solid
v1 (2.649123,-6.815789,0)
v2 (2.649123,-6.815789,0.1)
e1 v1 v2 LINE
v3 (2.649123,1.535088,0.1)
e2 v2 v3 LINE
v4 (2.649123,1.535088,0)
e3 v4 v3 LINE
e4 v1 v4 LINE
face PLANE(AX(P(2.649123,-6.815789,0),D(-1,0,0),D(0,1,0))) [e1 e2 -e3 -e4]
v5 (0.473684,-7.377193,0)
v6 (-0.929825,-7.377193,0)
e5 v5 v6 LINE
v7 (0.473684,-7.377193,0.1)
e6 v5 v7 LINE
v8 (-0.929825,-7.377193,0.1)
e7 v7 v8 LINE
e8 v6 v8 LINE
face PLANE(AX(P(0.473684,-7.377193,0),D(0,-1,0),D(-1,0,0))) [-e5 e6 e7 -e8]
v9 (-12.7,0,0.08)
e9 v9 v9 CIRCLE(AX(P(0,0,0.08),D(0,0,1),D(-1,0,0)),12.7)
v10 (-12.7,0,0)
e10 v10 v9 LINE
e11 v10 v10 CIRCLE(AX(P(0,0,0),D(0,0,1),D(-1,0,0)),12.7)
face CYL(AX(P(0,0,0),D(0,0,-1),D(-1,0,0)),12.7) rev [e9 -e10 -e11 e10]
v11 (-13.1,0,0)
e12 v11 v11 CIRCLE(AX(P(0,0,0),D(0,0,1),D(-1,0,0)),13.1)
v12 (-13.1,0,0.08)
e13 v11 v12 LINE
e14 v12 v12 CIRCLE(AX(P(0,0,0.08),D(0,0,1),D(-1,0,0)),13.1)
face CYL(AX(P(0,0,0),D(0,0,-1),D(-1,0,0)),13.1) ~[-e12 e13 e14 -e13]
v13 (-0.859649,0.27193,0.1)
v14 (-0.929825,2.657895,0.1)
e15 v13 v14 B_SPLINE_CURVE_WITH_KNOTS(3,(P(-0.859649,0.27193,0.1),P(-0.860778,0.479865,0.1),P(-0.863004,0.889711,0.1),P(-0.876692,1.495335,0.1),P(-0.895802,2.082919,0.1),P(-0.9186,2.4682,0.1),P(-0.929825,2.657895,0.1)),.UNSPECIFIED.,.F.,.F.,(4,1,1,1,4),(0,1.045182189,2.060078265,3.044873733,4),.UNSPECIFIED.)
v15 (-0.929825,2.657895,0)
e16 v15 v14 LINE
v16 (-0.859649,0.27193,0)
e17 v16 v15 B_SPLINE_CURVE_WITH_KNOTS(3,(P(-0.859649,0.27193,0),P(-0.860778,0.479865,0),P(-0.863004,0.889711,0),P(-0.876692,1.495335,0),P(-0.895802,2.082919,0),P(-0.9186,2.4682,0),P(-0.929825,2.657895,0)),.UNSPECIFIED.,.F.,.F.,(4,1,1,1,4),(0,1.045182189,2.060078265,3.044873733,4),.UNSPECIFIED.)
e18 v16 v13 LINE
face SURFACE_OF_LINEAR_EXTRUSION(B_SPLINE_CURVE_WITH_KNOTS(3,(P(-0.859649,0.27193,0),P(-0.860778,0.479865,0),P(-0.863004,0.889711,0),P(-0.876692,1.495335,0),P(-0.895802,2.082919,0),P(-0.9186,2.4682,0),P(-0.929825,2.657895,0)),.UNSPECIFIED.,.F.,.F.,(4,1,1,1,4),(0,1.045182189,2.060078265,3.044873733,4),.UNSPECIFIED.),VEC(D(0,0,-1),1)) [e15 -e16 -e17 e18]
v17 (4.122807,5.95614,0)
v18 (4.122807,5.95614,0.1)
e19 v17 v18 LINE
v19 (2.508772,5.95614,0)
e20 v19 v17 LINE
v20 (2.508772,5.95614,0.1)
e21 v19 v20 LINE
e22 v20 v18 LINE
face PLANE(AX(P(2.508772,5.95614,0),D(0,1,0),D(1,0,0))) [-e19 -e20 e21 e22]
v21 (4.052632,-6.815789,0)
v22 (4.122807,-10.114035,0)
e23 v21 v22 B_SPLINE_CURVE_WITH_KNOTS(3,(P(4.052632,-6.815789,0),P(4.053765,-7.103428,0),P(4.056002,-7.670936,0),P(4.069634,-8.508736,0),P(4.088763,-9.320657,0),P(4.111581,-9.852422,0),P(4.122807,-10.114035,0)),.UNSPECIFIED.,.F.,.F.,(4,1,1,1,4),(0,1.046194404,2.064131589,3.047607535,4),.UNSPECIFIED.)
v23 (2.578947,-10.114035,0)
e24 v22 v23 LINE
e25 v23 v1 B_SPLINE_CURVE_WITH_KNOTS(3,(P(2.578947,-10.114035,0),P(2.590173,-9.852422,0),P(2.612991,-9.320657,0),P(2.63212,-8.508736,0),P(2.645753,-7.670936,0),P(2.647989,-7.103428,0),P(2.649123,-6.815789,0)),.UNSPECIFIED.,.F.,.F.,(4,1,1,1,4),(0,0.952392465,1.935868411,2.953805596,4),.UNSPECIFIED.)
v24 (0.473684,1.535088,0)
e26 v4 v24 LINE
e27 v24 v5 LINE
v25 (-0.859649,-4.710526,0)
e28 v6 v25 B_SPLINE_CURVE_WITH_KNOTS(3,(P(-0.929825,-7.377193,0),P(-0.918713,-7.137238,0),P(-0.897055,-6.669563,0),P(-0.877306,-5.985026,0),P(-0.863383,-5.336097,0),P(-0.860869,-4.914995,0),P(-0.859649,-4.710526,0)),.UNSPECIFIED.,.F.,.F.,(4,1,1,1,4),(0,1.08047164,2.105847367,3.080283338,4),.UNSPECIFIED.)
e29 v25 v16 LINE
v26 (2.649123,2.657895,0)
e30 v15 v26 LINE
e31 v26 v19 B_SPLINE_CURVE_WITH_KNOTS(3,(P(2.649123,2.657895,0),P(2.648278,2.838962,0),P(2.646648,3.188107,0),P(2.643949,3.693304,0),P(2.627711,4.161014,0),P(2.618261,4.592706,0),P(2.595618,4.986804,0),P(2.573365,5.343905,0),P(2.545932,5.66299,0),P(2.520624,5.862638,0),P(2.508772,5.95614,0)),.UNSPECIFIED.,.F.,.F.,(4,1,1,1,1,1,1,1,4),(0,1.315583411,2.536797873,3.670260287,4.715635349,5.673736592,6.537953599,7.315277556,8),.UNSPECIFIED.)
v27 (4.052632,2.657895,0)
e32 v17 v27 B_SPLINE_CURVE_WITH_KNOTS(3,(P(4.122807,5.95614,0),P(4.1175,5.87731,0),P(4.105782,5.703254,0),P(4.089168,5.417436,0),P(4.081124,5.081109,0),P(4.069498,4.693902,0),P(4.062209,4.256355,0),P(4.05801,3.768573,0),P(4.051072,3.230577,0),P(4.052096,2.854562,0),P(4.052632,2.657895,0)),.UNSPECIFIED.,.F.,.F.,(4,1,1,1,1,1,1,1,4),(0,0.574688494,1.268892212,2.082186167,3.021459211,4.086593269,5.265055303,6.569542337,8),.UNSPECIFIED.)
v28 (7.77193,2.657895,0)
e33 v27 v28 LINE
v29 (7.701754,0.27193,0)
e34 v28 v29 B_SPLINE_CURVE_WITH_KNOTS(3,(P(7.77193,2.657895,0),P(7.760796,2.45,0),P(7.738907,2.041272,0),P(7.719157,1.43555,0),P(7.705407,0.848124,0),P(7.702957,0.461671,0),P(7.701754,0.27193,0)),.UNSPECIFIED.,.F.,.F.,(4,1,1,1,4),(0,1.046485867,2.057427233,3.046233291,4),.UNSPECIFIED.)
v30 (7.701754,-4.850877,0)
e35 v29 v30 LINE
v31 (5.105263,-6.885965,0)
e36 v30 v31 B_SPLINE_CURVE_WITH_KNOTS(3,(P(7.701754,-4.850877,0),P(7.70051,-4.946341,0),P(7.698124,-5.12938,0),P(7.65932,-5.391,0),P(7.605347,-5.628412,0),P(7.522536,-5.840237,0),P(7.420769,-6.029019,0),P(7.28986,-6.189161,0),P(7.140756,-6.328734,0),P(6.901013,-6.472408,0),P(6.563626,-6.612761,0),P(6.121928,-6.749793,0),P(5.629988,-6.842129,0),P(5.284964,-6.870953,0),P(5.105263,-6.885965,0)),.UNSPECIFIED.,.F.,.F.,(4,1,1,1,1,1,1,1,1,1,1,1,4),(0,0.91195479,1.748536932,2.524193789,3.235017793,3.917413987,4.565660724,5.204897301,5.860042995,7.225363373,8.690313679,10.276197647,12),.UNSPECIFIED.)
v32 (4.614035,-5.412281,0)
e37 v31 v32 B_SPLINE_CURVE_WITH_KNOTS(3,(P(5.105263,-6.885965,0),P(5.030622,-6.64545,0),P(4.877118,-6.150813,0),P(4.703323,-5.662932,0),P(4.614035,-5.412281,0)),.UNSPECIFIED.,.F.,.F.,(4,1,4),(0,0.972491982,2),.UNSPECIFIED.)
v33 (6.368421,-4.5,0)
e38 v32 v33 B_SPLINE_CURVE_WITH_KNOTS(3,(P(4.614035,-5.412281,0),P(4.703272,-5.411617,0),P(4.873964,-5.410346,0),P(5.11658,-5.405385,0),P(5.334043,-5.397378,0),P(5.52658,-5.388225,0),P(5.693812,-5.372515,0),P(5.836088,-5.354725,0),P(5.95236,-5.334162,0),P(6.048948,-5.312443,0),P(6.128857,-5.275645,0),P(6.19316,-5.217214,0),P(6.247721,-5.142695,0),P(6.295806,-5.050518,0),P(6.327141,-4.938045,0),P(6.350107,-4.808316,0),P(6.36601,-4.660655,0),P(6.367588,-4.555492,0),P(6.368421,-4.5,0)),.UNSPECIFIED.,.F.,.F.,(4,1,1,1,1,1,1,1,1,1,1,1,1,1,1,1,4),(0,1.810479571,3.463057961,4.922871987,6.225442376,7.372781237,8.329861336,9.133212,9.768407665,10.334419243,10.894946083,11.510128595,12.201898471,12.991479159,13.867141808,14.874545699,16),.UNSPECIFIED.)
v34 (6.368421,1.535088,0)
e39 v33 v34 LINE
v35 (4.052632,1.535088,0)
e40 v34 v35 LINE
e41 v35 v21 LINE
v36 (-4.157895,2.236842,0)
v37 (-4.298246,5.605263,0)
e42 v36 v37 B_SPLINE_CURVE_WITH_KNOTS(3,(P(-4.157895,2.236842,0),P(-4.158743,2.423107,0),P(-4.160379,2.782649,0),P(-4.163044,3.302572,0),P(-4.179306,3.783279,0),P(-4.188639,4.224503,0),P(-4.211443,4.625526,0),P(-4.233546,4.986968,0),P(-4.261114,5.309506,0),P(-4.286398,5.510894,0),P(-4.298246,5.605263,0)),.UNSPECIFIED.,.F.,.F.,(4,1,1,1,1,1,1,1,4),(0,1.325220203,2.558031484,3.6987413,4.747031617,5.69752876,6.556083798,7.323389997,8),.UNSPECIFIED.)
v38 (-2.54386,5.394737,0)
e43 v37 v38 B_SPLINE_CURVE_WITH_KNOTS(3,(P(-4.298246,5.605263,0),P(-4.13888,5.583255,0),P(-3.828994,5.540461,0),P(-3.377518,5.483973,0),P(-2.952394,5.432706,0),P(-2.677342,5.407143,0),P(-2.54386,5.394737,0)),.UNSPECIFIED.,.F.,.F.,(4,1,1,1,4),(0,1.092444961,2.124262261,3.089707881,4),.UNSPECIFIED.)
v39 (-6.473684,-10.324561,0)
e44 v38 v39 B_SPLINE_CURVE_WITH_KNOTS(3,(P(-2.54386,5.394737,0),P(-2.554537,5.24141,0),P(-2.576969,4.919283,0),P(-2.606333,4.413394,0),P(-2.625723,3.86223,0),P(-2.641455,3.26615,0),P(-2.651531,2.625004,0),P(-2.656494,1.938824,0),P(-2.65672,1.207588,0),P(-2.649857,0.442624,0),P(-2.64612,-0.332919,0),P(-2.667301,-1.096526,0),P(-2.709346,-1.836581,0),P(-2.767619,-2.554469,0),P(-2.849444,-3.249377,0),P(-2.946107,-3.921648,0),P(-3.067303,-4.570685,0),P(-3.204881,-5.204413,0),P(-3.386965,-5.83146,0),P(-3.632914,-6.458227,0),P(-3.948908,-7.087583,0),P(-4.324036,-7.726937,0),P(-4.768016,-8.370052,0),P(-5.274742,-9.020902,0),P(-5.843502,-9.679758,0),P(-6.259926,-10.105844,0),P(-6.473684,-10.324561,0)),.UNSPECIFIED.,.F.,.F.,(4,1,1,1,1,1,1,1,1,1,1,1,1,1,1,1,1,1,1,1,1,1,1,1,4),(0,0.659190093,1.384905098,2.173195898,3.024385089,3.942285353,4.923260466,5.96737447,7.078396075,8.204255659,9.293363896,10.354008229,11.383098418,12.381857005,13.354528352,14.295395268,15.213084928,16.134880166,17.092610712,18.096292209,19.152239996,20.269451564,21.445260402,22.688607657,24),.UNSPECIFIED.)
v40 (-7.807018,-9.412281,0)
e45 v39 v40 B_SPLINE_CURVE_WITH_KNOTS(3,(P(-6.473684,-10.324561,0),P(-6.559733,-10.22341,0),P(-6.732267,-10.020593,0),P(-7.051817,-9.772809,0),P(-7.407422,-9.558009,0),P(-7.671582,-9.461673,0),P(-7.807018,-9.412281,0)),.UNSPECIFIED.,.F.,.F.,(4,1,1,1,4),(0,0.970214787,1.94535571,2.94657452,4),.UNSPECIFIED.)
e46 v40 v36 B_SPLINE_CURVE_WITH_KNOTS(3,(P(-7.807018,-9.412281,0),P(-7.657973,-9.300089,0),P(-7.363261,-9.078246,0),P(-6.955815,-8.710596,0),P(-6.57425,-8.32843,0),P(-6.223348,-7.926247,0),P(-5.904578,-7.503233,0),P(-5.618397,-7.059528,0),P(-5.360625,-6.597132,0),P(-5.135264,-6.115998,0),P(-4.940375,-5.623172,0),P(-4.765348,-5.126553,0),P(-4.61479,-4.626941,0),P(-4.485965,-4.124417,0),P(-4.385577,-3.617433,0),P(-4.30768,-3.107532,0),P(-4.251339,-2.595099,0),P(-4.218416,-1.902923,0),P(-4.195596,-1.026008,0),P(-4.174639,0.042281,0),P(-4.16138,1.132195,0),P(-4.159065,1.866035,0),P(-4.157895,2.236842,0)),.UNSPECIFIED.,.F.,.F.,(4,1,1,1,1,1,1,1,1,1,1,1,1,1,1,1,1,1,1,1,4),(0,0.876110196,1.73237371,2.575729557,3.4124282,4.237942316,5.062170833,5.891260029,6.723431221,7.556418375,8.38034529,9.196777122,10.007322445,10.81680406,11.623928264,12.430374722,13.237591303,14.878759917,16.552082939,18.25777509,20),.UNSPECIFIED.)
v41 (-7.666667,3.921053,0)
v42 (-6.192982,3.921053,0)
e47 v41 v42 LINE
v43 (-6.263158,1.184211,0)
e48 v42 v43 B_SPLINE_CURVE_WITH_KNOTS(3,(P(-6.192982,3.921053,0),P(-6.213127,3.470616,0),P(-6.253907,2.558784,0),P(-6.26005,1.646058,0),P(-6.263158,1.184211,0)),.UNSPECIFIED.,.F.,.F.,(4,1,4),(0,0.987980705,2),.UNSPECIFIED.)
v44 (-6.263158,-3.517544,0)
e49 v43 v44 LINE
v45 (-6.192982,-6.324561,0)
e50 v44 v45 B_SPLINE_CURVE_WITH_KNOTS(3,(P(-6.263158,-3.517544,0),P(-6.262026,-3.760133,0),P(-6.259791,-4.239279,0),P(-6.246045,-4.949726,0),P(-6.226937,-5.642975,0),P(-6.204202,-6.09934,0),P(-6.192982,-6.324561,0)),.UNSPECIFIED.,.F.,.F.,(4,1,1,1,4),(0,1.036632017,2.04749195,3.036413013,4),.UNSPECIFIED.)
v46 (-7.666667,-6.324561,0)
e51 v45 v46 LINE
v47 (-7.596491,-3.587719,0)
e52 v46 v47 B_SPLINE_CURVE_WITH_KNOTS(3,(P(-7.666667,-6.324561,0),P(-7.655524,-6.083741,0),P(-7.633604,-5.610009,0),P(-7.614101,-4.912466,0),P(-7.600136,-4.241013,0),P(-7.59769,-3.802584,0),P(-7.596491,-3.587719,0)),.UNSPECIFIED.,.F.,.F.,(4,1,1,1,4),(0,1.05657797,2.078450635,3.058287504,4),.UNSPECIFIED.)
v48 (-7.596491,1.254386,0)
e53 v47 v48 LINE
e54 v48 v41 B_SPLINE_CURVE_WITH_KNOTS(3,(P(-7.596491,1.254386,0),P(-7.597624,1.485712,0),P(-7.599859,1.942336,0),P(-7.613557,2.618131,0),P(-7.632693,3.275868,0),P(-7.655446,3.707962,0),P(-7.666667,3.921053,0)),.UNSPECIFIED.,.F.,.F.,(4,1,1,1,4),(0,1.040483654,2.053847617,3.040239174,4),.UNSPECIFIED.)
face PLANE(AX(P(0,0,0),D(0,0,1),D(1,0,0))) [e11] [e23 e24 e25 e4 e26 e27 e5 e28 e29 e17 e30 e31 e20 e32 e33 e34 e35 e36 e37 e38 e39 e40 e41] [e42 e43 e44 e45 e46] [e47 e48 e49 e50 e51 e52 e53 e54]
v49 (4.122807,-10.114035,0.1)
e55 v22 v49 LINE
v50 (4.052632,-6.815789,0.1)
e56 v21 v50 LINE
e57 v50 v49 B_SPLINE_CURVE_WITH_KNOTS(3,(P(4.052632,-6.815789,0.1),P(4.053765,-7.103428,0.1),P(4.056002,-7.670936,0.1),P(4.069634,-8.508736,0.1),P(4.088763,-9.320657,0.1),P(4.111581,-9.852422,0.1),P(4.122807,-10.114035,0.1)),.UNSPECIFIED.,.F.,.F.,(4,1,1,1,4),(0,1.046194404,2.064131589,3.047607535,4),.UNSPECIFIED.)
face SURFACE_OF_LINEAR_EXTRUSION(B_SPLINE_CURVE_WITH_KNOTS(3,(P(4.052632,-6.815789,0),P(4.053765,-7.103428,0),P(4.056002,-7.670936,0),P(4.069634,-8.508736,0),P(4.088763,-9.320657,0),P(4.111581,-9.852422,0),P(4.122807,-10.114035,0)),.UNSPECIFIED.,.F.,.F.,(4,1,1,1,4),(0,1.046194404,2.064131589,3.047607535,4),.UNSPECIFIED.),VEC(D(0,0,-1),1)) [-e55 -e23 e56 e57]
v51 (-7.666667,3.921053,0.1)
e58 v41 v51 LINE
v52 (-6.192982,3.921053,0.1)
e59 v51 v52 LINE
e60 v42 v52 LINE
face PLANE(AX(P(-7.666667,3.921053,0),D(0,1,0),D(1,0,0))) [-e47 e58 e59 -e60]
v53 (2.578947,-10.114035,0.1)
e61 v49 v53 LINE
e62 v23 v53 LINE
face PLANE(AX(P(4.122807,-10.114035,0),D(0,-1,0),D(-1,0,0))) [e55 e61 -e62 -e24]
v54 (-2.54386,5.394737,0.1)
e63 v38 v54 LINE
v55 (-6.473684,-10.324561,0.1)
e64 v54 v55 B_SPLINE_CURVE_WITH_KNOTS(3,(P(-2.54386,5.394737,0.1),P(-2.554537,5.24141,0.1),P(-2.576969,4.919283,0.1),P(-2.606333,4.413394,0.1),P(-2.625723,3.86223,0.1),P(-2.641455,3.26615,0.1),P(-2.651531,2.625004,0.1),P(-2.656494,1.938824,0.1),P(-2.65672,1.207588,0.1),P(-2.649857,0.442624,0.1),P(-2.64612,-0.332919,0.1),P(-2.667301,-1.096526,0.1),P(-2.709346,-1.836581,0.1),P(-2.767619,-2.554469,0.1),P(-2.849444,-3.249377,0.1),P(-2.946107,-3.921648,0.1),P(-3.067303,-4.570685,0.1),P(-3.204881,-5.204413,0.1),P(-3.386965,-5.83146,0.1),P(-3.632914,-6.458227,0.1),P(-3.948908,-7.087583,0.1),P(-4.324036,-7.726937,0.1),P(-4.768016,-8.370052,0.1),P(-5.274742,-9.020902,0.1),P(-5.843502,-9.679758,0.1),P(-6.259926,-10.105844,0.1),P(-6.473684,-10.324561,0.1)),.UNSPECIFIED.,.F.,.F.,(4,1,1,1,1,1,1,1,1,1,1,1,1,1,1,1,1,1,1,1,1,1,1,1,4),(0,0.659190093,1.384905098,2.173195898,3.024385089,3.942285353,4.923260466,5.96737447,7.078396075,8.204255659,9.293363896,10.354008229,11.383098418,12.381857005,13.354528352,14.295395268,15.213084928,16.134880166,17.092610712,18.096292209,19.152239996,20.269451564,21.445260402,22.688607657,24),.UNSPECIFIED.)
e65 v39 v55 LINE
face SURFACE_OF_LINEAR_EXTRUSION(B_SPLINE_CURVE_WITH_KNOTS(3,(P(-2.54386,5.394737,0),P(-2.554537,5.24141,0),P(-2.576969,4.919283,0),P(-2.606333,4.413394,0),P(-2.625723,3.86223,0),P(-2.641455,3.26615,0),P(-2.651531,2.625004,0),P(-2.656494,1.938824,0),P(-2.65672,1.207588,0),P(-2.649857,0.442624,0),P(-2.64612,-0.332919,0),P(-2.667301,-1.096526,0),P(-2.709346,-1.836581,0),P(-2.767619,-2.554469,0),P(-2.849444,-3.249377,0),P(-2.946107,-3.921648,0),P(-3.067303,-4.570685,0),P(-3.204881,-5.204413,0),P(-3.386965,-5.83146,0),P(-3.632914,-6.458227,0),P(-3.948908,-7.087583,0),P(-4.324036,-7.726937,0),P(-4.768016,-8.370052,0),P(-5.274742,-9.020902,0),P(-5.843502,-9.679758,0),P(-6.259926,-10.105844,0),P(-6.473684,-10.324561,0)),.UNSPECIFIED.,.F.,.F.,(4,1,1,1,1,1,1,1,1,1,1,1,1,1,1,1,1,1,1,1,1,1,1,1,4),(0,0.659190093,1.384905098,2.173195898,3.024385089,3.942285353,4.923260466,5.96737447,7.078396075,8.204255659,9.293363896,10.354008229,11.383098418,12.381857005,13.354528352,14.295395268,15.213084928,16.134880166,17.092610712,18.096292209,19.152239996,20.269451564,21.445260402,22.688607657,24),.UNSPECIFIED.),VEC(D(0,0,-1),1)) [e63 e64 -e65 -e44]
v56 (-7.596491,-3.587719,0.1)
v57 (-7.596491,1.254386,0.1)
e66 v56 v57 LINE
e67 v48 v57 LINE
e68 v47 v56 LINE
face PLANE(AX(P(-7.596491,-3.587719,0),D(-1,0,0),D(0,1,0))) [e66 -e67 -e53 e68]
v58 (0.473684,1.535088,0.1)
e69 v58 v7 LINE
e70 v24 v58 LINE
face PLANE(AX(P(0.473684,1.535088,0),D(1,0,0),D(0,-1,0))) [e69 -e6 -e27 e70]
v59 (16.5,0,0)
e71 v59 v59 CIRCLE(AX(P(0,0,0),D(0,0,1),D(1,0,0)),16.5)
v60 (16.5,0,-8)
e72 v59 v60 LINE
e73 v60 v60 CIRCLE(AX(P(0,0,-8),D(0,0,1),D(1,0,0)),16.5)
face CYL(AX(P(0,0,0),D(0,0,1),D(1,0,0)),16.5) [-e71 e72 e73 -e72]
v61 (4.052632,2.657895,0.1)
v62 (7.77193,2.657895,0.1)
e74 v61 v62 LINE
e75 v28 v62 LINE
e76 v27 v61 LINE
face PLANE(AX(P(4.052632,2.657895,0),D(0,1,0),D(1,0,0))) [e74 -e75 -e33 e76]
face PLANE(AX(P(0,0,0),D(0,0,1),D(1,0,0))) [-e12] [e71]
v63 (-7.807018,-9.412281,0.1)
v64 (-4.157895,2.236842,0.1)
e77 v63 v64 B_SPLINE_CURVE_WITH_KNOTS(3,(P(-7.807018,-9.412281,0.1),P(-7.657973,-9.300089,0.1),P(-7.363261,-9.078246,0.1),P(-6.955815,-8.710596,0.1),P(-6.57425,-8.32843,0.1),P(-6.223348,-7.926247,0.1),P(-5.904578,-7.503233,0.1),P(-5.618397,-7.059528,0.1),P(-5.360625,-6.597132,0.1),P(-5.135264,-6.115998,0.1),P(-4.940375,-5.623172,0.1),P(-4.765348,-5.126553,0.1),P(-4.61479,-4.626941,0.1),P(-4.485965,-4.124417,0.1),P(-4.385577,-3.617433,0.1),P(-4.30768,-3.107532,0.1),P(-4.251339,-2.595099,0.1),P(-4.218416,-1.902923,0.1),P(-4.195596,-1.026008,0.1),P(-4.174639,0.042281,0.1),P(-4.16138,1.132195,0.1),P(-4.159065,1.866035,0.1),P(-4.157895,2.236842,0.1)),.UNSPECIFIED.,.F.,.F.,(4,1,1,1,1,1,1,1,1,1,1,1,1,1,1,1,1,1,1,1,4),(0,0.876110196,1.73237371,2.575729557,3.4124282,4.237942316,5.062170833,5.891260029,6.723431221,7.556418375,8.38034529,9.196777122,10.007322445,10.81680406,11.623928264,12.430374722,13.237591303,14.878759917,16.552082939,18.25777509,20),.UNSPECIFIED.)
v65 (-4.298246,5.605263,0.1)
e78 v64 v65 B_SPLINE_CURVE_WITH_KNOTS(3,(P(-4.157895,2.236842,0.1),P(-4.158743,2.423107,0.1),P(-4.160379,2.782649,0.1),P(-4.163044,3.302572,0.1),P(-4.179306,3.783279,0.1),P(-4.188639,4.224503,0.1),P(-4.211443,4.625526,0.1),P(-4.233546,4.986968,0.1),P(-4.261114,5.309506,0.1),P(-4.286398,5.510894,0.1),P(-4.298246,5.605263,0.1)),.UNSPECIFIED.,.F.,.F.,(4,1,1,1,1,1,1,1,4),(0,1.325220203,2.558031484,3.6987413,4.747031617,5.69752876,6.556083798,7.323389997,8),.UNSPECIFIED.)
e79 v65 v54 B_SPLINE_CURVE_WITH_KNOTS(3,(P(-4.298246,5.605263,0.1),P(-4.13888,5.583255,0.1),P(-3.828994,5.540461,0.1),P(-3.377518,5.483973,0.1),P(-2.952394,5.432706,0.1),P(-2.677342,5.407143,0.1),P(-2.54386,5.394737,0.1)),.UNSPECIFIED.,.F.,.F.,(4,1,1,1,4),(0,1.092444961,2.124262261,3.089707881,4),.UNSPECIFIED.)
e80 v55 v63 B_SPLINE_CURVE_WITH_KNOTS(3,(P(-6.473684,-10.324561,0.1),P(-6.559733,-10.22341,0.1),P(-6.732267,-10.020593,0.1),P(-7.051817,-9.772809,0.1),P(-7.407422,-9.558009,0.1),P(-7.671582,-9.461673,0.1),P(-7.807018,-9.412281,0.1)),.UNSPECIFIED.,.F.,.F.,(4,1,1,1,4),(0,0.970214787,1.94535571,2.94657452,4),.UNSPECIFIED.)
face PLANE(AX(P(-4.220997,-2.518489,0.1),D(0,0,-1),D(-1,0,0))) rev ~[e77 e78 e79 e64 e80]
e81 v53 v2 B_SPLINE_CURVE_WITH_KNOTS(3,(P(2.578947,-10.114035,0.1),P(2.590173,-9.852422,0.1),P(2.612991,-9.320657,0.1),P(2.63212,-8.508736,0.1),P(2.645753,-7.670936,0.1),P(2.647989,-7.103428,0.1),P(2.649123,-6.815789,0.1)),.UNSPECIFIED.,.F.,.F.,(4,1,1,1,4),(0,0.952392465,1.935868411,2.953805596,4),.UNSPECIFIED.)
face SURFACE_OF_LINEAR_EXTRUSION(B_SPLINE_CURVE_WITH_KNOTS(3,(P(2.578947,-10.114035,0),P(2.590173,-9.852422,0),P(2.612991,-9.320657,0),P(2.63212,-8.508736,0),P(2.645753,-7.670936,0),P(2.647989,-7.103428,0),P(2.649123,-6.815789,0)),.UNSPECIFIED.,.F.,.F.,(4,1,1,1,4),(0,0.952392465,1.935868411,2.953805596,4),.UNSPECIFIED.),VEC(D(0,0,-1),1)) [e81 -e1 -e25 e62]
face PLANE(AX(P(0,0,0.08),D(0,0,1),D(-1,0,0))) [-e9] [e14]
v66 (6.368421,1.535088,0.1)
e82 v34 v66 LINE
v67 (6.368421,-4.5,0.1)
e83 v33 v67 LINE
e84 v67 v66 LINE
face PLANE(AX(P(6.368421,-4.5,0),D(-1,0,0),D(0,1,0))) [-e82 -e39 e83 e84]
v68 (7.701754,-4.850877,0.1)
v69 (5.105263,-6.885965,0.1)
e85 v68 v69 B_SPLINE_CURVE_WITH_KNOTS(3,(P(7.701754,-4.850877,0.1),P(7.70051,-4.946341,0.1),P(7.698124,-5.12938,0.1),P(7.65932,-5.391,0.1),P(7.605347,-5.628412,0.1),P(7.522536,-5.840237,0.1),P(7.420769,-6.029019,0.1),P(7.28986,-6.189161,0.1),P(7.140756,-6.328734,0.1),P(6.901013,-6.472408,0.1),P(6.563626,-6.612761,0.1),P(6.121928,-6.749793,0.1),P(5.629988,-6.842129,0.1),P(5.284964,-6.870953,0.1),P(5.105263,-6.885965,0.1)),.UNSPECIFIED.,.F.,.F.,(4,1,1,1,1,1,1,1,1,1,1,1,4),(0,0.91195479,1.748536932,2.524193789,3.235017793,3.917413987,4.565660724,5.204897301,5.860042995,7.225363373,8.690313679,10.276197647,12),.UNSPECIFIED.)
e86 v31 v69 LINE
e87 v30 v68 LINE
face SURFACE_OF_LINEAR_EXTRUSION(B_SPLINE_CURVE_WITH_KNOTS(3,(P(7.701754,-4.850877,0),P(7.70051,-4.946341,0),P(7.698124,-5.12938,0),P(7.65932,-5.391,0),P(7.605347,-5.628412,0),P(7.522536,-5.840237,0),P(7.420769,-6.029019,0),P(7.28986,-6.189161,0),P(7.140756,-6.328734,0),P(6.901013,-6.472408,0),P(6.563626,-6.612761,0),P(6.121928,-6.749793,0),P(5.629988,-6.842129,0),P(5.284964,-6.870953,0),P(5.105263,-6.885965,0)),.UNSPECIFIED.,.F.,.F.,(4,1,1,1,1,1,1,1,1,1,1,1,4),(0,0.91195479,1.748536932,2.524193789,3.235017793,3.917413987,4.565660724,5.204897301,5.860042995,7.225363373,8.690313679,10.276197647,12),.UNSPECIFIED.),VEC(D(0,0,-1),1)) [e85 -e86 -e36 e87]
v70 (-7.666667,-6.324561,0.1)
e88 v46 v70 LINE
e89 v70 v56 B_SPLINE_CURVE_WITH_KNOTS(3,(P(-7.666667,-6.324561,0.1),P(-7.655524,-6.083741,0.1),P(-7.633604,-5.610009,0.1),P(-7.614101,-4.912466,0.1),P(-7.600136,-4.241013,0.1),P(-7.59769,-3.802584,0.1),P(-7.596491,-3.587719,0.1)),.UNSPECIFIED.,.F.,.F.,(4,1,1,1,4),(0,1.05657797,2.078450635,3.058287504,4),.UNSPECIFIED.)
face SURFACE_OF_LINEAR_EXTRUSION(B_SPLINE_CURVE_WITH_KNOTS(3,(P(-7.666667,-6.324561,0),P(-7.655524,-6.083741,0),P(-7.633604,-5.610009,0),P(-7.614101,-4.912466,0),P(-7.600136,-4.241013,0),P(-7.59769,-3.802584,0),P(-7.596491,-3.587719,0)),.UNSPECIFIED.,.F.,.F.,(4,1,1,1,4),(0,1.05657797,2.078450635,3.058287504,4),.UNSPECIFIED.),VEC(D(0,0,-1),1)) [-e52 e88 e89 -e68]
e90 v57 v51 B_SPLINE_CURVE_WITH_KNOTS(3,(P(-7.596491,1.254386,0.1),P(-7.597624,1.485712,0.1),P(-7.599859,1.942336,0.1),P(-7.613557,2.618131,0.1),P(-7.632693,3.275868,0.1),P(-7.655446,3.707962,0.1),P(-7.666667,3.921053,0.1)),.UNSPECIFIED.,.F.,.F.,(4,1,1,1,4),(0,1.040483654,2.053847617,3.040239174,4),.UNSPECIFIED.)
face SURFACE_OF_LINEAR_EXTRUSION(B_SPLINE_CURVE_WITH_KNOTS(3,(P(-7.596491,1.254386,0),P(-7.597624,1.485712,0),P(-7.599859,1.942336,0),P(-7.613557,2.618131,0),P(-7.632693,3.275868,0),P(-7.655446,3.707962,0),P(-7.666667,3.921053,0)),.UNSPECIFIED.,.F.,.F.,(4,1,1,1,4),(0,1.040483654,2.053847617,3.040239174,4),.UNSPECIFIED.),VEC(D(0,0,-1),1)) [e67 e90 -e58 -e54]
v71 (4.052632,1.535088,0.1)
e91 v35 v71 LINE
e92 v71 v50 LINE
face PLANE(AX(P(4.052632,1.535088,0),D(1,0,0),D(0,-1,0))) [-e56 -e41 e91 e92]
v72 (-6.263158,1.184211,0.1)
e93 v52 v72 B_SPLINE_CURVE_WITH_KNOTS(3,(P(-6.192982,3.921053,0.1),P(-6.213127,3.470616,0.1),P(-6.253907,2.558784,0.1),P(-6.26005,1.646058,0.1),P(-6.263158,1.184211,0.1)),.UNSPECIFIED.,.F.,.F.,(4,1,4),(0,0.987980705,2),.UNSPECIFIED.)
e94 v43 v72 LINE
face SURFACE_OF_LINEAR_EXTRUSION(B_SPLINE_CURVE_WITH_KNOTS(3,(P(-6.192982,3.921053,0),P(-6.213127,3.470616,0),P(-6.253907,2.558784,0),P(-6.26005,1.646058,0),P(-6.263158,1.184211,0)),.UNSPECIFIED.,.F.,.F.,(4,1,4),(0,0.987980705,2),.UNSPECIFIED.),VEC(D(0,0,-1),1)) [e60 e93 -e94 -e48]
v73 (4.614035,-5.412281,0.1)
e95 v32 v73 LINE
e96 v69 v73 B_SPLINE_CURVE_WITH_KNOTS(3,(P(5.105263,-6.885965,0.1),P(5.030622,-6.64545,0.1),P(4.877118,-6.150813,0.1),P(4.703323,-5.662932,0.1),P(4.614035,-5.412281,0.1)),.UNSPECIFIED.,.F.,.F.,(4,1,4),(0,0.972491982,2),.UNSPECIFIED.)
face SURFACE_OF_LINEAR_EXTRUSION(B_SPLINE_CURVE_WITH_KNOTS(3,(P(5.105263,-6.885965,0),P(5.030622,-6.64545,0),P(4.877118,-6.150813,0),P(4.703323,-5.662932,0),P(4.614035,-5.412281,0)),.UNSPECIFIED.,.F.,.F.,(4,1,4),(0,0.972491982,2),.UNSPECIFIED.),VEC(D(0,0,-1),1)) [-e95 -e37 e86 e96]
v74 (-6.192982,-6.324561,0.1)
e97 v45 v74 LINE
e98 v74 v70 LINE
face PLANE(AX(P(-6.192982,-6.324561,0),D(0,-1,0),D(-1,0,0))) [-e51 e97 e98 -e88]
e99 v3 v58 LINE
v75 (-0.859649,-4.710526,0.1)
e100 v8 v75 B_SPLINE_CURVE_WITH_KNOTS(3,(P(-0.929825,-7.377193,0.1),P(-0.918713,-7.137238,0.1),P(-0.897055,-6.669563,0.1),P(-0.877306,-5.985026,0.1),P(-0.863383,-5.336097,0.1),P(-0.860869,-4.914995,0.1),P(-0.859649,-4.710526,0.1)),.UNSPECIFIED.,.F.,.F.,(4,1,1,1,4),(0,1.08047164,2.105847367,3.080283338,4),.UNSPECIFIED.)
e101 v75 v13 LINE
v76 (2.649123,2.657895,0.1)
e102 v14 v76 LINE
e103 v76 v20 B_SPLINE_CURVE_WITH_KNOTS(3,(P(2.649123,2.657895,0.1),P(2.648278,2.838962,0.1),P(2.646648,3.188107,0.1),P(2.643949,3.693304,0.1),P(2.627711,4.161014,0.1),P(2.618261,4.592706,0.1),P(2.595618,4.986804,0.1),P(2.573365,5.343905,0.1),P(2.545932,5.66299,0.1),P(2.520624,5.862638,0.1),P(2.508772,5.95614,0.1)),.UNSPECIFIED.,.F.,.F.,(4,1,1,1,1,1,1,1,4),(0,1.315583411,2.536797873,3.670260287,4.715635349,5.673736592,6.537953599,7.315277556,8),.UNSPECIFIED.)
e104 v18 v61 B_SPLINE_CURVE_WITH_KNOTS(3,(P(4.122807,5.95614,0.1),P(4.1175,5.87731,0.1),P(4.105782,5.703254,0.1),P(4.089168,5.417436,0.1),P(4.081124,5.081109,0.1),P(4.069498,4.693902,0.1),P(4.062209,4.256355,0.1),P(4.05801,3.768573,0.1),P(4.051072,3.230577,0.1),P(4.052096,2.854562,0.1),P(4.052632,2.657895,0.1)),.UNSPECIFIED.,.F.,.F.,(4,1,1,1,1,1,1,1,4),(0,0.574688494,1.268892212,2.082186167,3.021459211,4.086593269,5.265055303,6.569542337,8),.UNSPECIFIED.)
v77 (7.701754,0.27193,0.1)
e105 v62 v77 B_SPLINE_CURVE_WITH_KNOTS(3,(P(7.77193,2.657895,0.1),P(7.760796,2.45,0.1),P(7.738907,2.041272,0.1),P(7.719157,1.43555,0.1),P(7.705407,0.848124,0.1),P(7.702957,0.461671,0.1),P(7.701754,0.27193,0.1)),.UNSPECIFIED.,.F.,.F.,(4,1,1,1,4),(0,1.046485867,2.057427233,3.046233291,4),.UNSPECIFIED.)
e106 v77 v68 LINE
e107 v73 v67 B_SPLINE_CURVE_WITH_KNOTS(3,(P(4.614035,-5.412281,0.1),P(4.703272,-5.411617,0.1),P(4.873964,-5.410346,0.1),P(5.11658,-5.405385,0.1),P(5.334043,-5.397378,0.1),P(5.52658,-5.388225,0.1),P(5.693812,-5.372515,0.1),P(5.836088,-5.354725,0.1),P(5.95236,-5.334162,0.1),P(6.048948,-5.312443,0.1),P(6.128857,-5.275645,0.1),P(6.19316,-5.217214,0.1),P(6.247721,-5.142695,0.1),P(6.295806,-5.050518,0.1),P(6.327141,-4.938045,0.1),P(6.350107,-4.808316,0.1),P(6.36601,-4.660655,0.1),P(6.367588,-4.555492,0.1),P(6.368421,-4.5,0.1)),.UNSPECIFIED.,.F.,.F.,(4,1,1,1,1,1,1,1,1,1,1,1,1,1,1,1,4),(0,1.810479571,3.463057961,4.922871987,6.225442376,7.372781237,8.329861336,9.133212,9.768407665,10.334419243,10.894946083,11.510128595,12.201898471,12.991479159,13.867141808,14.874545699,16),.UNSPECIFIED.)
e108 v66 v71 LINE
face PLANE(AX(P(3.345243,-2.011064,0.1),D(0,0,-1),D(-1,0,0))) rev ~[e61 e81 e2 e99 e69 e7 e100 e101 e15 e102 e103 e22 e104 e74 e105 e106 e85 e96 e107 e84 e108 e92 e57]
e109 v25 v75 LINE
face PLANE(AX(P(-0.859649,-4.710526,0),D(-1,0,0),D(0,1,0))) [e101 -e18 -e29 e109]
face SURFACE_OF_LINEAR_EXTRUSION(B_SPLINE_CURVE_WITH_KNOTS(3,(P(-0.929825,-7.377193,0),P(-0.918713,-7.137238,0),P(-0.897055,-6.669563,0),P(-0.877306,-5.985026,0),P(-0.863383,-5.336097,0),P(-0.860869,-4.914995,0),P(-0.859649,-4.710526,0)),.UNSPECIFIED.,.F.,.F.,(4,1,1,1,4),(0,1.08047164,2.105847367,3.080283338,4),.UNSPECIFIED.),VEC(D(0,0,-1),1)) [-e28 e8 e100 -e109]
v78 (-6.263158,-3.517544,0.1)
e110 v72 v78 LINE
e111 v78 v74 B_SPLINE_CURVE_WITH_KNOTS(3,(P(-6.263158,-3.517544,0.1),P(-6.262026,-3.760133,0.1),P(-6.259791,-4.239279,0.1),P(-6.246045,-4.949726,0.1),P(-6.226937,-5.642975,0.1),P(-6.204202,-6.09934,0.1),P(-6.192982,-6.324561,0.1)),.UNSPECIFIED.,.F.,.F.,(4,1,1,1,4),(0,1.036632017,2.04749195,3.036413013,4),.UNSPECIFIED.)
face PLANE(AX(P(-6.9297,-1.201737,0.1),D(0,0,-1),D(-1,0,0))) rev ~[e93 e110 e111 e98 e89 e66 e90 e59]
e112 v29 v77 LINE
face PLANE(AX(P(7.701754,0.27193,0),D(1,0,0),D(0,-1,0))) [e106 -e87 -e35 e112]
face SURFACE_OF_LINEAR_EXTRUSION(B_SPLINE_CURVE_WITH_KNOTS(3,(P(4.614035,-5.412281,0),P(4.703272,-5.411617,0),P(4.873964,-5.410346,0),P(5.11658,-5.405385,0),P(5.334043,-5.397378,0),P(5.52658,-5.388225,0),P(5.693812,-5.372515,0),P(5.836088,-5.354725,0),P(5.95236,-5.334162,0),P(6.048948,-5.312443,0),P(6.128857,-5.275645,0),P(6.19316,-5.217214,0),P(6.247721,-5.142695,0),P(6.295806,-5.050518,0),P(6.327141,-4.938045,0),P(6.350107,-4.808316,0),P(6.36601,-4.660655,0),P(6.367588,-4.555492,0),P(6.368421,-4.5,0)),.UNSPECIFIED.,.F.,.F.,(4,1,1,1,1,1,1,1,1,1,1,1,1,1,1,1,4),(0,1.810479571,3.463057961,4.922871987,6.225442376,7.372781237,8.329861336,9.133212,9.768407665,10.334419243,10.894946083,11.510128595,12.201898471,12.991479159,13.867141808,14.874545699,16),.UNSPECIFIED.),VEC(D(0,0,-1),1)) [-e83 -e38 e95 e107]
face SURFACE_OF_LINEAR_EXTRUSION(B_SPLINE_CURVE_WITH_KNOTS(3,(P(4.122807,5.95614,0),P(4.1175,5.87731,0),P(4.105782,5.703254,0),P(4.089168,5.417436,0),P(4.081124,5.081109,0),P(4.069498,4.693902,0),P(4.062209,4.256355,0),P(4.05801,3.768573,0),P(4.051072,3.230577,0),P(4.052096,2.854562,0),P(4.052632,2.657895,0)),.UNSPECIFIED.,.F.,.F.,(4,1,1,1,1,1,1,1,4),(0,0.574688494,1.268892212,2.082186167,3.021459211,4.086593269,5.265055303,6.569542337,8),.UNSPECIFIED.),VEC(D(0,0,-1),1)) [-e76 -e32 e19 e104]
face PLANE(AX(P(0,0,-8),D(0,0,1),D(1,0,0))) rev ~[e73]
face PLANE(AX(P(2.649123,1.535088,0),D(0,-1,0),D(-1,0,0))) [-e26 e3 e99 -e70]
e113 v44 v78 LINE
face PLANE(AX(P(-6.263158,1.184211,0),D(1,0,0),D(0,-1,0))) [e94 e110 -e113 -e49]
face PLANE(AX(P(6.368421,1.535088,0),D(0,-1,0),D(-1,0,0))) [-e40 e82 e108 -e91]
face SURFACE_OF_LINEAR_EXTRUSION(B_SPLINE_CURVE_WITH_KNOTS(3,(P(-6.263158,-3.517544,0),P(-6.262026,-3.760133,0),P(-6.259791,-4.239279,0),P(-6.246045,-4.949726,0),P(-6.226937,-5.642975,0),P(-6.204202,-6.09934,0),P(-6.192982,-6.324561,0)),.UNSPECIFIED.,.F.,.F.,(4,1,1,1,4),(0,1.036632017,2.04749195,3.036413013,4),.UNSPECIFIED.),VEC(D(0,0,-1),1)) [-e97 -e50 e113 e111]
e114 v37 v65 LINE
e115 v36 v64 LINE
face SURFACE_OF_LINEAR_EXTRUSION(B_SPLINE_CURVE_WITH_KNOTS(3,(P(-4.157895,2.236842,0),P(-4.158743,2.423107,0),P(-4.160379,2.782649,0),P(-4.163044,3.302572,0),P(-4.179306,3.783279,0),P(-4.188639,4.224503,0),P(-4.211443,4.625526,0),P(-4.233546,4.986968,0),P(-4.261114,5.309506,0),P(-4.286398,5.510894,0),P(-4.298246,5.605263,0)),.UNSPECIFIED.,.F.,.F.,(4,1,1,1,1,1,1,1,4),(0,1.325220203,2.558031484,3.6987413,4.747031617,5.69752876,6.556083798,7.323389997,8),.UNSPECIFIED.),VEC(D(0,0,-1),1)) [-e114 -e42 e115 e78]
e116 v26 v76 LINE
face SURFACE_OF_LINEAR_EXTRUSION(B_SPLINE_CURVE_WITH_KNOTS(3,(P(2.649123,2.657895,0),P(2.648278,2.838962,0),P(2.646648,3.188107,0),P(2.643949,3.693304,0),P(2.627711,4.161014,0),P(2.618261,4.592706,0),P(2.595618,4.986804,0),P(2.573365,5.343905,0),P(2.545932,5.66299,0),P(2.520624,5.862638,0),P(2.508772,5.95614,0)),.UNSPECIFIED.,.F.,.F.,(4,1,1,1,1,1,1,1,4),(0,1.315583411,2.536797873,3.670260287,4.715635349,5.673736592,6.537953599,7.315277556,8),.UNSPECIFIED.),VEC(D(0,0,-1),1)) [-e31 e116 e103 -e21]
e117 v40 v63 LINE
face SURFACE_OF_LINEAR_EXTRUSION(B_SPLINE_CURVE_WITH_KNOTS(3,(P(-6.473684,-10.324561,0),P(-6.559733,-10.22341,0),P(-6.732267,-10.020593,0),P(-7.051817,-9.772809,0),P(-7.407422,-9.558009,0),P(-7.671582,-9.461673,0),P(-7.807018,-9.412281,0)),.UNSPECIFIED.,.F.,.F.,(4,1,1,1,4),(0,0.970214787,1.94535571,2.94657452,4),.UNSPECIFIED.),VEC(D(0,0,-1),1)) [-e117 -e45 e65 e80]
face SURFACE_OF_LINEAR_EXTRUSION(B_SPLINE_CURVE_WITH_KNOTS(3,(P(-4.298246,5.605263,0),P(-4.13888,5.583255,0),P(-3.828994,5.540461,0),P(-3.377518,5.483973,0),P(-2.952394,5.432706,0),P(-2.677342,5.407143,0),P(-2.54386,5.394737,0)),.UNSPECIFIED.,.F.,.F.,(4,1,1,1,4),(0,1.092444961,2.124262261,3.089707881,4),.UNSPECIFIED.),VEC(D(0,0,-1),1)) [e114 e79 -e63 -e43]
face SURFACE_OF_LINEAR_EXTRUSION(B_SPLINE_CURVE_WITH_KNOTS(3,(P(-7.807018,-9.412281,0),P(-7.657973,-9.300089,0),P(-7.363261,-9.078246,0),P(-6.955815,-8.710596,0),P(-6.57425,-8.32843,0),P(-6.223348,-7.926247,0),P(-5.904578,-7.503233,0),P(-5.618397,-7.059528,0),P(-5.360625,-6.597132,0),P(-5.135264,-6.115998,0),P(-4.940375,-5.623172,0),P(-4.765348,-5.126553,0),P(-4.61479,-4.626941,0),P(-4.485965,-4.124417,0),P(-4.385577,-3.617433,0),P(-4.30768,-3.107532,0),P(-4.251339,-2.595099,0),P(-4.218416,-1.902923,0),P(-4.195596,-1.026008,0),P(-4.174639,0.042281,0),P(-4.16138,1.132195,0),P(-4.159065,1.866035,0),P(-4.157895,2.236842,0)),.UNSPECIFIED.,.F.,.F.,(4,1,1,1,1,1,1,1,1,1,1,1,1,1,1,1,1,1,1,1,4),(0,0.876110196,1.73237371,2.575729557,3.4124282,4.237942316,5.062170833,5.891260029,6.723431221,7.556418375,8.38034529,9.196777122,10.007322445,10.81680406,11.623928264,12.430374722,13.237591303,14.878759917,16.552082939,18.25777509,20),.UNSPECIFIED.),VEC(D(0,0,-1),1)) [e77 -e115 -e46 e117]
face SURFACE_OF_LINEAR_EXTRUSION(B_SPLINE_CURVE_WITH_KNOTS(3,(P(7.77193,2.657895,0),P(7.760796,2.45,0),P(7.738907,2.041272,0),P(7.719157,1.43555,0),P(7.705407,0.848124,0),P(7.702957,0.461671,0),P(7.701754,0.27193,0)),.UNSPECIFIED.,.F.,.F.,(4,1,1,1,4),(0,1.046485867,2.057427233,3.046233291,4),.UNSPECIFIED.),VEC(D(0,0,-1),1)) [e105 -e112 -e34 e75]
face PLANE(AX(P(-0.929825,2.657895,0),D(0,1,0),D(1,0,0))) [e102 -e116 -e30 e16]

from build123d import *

# Parameters (mm, degrees)
SKETCH_1_R               = 16.5
DIAMETER33_HEIGHT8_DEPTH = 8
CHARACTER_DEPTH          = 0.1
SKETCH_3_R               = 13.1
SKETCH_3_R_2             = 12.7
INK_RING_DEPTH           = 0.08


with BuildPart() as part:
    # 草图1 → Diameter33_Height8 (new body)
    with BuildSketch(Plane.XY):
        Circle(SKETCH_1_R)
    extrude(amount=-DIAMETER33_HEIGHT8_DEPTH)

    # 草图2 → Character_帅 (add)
    with BuildSketch(Plane.XY):
        with BuildLine():
            add(Edge.make_bspline(
                [(2.649122807, 2.657894737), (2.648277509, 2.838961546), (2.646647548, 3.188106947), (2.643949337, 3.693304246), (2.627710858, 4.161013978), (2.618261471, 4.592706352), (2.59561766, 4.986803608), (2.573364544, 5.343905172), (2.545932395, 5.6629896), (2.520624442, 5.862638482), (2.50877193, 5.956140351)],
                knots=[0, 0, 0, 0, 1.315583411, 2.536797873, 3.670260287, 4.715635349, 5.673736592, 6.537953599, 7.315277556, 8, 8, 8, 8], degree=3))
            Line((2.50877193, 5.956140351), (4.122807018, 5.956140351))
            add(Edge.make_bspline(
                [(4.122807018, 5.956140351), (4.117499898, 5.877309705), (4.105781963, 5.703254378), (4.089167905, 5.417436401), (4.081123846, 5.081109437), (4.069497803, 4.693902375), (4.062208699, 4.256354693), (4.058010495, 3.768573009), (4.051072159, 3.230576781), (4.052096052, 2.854561793), (4.052631579, 2.657894737)],
                knots=[0, 0, 0, 0, 0.574688494, 1.268892212, 2.082186167, 3.021459211, 4.086593269, 5.265055303, 6.569542337, 8, 8, 8, 8], degree=3))
            Line((4.052631579, 2.657894737), (7.771929825, 2.657894737))
            add(Edge.make_bspline(
                [(7.771929825, 2.657894737), (7.760796072, 2.449999982), (7.73890673, 2.041271737), (7.719157498, 1.435549924), (7.705407242, 0.848123825), (7.702957274, 0.461670931), (7.701754386, 0.271929825)],
                knots=[0, 0, 0, 0, 1.046485867, 2.057427233, 3.046233291, 4, 4, 4, 4], degree=3))
            Line((7.701754386, 0.271929825), (7.701754386, -4.850877193))
            add(Edge.make_bspline(
                [(7.701754386, -4.850877193), (7.700509851, -4.946341409), (7.69812364, -5.129379766), (7.659319509, -5.390999722), (7.605347303, -5.628411903), (7.522536164, -5.840237206), (7.420768732, -6.029019154), (7.289859981, -6.189160821), (7.140756422, -6.328733562), (6.901013102, -6.472408104), (6.563626246, -6.612761018), (6.121927666, -6.749793211), (5.6299881, -6.842128832), (5.284963987, -6.870952514), (5.105263158, -6.885964912)],
                knots=[0, 0, 0, 0, 0.91195479, 1.748536932, 2.524193789, 3.235017793, 3.917413987, 4.565660724, 5.204897301, 5.860042995, 7.225363373, 8.690313679, 10.276197647, 12, 12, 12, 12], degree=3))
            add(Edge.make_bspline(
                [(5.105263158, -6.885964912), (5.030622329, -6.645449861), (4.877118075, -6.150813287), (4.703323003, -5.662931781), (4.614035088, -5.412280702)],
                knots=[0, 0, 0, 0, 0.972491982, 2, 2, 2, 2], degree=3))
            add(Edge.make_bspline(
                [(4.614035088, -5.412280702), (4.703272413, -5.411616614), (4.873964221, -5.410346357), (5.116579774, -5.405384501), (5.334043291, -5.397378419), (5.526579613, -5.38822529), (5.693812444, -5.372515338), (5.836088174, -5.354724862), (5.952359909, -5.334162259), (6.04894766, -5.312443399), (6.128856661, -5.275644675), (6.193160306, -5.21721386), (6.247720931, -5.142694696), (6.295806352, -5.050517957), (6.327140956, -4.938045189), (6.350107, -4.808315534), (6.366009975, -4.660655055), (6.367588242, -4.555491891), (6.368421053, -4.5)],
                knots=[0, 0, 0, 0, 1.810479571, 3.463057961, 4.922871987, 6.225442376, 7.372781237, 8.329861336, 9.133212, 9.768407665, 10.334419243, 10.894946083, 11.510128595, 12.201898471, 12.991479159, 13.867141808, 14.874545699, 16, 16, 16, 16], degree=3))
            Line((6.368421053, -4.5), (6.368421053, 1.535087719))
            Line((6.368421053, 1.535087719), (4.052631579, 1.535087719))
            Line((4.052631579, 1.535087719), (4.052631579, -6.815789474))
            add(Edge.make_bspline(
                [(4.052631579, -6.815789474), (4.053765197, -7.103428128), (4.056001813, -7.670936452), (4.069634056, -8.508736417), (4.088763125, -9.320656714), (4.11158118, -9.852421744), (4.122807018, -10.114035088)],
                knots=[0, 0, 0, 0, 1.046194404, 2.064131589, 3.047607535, 4, 4, 4, 4], degree=3))
            Line((4.122807018, -10.114035088), (2.578947368, -10.114035088))
            add(Edge.make_bspline(
                [(2.578947368, -10.114035088), (2.590173206, -9.852421744), (2.612991261, -9.320656714), (2.63212033, -8.508736417), (2.645752573, -7.670936452), (2.647989189, -7.103428128), (2.649122807, -6.815789474)],
                knots=[0, 0, 0, 0, 0.952392465, 1.935868411, 2.953805596, 4, 4, 4, 4], degree=3))
            Line((2.649122807, -6.815789474), (2.649122807, 1.535087719))
            Line((2.649122807, 1.535087719), (0.473684211, 1.535087719))
            Line((0.473684211, 1.535087719), (0.473684211, -7.377192982))
            Line((0.473684211, -7.377192982), (-0.929824561, -7.377192982))
            add(Edge.make_bspline(
                [(-0.929824561, -7.377192982), (-0.918712527, -7.137237676), (-0.89705509, -6.669562974), (-0.877305751, -5.985025613), (-0.863382791, -5.336096743), (-0.860869477, -4.914994784), (-0.859649123, -4.710526316)],
                knots=[0, 0, 0, 0, 1.08047164, 2.105847367, 3.080283338, 4, 4, 4, 4], degree=3))
            Line((-0.859649123, -4.710526316), (-0.859649123, 0.271929825))
            add(Edge.make_bspline(
                [(-0.859649123, 0.271929825), (-0.860778179, 0.479865427), (-0.863003576, 0.889711309), (-0.876691761, 1.495334741), (-0.895801581, 2.082918827), (-0.918599793, 2.468200268), (-0.929824561, 2.657894737)],
                knots=[0, 0, 0, 0, 1.045182189, 2.060078265, 3.044873733, 4, 4, 4, 4], degree=3))
            Line((-0.929824561, 2.657894737), (2.649122807, 2.657894737))
        make_face()
        with BuildLine():
            add(Edge.make_bspline(
                [(-2.543859649, 5.394736842), (-2.55453691, 5.241410089), (-2.576968973, 4.919282974), (-2.606332671, 4.4133937), (-2.625722602, 3.862230343), (-2.641455489, 3.266150249), (-2.651530629, 2.625004365), (-2.656494342, 1.938824334), (-2.656719765, 1.207587715), (-2.649857053, 0.442624259), (-2.646120363, -0.33291913), (-2.667300728, -1.096525685), (-2.709346485, -1.836581392), (-2.767619156, -2.554468791), (-2.849443973, -3.249377344), (-2.946107025, -3.921647543), (-3.067303461, -4.570685232), (-3.204881304, -5.204412609), (-3.386965023, -5.831459902), (-3.6329141, -6.458227284), (-3.948908402, -7.087582997), (-4.324035754, -7.726937374), (-4.768016313, -8.370052347), (-5.274742334, -9.020901708), (-5.843502049, -9.679758443), (-6.259926358, -10.105844174), (-6.473684211, -10.324561404)],
                knots=[0, 0, 0, 0, 0.659190093, 1.384905098, 2.173195898, 3.024385089, 3.942285353, 4.923260466, 5.96737447, 7.078396075, 8.204255659, 9.293363896, 10.354008229, 11.383098418, 12.381857005, 13.354528352, 14.295395268, 15.213084928, 16.134880166, 17.092610712, 18.096292209, 19.152239996, 20.269451564, 21.445260402, 22.688607657, 24, 24, 24, 24], degree=3))
            add(Edge.make_bspline(
                [(-6.473684211, -10.324561404), (-6.559732909, -10.223409926), (-6.732267206, -10.020593389), (-7.051816717, -9.772809488), (-7.40742211, -9.558009314), (-7.671581713, -9.461672847), (-7.807017544, -9.412280702)],
                knots=[0, 0, 0, 0, 0.970214787, 1.94535571, 2.94657452, 4, 4, 4, 4], degree=3))
            add(Edge.make_bspline(
                [(-7.807017544, -9.412280702), (-7.657973182, -9.300088741), (-7.363260789, -9.078246324), (-6.955815499, -8.710596291), (-6.57424992, -8.328429932), (-6.223348035, -7.926246582), (-5.904578485, -7.503232626), (-5.618396742, -7.059527971), (-5.360624691, -6.597131501), (-5.135263603, -6.115997615), (-4.940375439, -5.623171603), (-4.765347571, -5.126552857), (-4.614790167, -4.626941063), (-4.485965447, -4.124417421), (-4.385577394, -3.617432725), (-4.307679883, -3.107532014), (-4.251338798, -2.595099135), (-4.218416323, -1.902922648), (-4.195596224, -1.026008016), (-4.174639454, 0.042281327), (-4.161380369, 1.13219518), (-4.159064793, 1.86603464), (-4.157894737, 2.236842105)],
                knots=[0, 0, 0, 0, 0.876110196, 1.73237371, 2.575729557, 3.4124282, 4.237942316, 5.062170833, 5.891260029, 6.723431221, 7.556418375, 8.38034529, 9.196777122, 10.007322445, 10.81680406, 11.623928264, 12.430374722, 13.237591303, 14.878759917, 16.552082939, 18.25777509, 20, 20, 20, 20], degree=3))
            add(Edge.make_bspline(
                [(-4.157894737, 2.236842105), (-4.158742697, 2.42310712), (-4.160379489, 2.782648704), (-4.163043616, 3.302572137), (-4.179306434, 3.783279411), (-4.188638552, 4.224503155), (-4.21144322, 4.62552561), (-4.233545861, 4.986968321), (-4.261113513, 5.309505904), (-4.286397635, 5.510893979), (-4.298245614, 5.605263158)],
                knots=[0, 0, 0, 0, 1.325220203, 2.558031484, 3.6987413, 4.747031617, 5.69752876, 6.556083798, 7.323389997, 8, 8, 8, 8], degree=3))
            add(Edge.make_bspline(
                [(-4.298245614, 5.605263158), (-4.138880204, 5.583255195), (-3.828993721, 5.54046065), (-3.377518369, 5.48397261), (-2.952393963, 5.432706182), (-2.677341911, 5.407142736), (-2.543859649, 5.394736842)],
                knots=[0, 0, 0, 0, 1.092444961, 2.124262261, 3.089707881, 4, 4, 4, 4], degree=3))
        make_face()
        with BuildLine():
            add(Edge.make_bspline(
                [(-6.192982456, 3.921052632), (-6.213127144, 3.470616313), (-6.25390666, 2.558784097), (-6.260049539, 1.646058489), (-6.263157895, 1.184210526)],
                knots=[0, 0, 0, 0, 0.987980705, 2, 2, 2, 2], degree=3))
            Line((-6.263157895, 1.184210526), (-6.263157895, -3.51754386))
            add(Edge.make_bspline(
                [(-6.263157895, -3.51754386), (-6.262026133, -3.760132755), (-6.259790748, -4.239279455), (-6.246045202, -4.949726115), (-6.226937452, -5.6429749), (-6.204202458, -6.099339702), (-6.192982456, -6.324561404)],
                knots=[0, 0, 0, 0, 1.036632017, 2.04749195, 3.036413013, 4, 4, 4, 4], degree=3))
            Line((-6.192982456, -6.324561404), (-7.666666667, -6.324561404))
            add(Edge.make_bspline(
                [(-7.666666667, -6.324561404), (-7.655523902, -6.083740603), (-7.633604379, -5.610009217), (-7.61410139, -4.912465947), (-7.600135574, -4.241012646), (-7.597689835, -3.802584211), (-7.596491228, -3.587719298)],
                knots=[0, 0, 0, 0, 1.05657797, 2.078450635, 3.058287504, 4, 4, 4, 4], degree=3))
            Line((-7.596491228, -3.587719298), (-7.596491228, 1.254385965))
            add(Edge.make_bspline(
                [(-7.596491228, 1.254385965), (-7.597623519, 1.485712467), (-7.599858589, 1.94233606), (-7.613556549, 2.618130935), (-7.632693155, 3.27586782), (-7.655445944, 3.707961922), (-7.666666667, 3.921052632)],
                knots=[0, 0, 0, 0, 1.040483654, 2.053847617, 3.040239174, 4, 4, 4, 4], degree=3))
            Line((-7.666666667, 3.921052632), (-6.192982456, 3.921052632))
        make_face()
    extrude(amount=CHARACTER_DEPTH)

    # 草图3 → Ink_ring (add)
    with BuildSketch(Plane.XY):
        with Locations(Location((0, 0, 0), (0, 0, 180))):
            Circle(SKETCH_3_R)
        with Locations(Location((0, 0, 0), (0, 0, 180))):
            Circle(SKETCH_3_R_2, mode=Mode.SUBTRACT)
    extrude(amount=INK_RING_DEPTH)


solid = part.part
